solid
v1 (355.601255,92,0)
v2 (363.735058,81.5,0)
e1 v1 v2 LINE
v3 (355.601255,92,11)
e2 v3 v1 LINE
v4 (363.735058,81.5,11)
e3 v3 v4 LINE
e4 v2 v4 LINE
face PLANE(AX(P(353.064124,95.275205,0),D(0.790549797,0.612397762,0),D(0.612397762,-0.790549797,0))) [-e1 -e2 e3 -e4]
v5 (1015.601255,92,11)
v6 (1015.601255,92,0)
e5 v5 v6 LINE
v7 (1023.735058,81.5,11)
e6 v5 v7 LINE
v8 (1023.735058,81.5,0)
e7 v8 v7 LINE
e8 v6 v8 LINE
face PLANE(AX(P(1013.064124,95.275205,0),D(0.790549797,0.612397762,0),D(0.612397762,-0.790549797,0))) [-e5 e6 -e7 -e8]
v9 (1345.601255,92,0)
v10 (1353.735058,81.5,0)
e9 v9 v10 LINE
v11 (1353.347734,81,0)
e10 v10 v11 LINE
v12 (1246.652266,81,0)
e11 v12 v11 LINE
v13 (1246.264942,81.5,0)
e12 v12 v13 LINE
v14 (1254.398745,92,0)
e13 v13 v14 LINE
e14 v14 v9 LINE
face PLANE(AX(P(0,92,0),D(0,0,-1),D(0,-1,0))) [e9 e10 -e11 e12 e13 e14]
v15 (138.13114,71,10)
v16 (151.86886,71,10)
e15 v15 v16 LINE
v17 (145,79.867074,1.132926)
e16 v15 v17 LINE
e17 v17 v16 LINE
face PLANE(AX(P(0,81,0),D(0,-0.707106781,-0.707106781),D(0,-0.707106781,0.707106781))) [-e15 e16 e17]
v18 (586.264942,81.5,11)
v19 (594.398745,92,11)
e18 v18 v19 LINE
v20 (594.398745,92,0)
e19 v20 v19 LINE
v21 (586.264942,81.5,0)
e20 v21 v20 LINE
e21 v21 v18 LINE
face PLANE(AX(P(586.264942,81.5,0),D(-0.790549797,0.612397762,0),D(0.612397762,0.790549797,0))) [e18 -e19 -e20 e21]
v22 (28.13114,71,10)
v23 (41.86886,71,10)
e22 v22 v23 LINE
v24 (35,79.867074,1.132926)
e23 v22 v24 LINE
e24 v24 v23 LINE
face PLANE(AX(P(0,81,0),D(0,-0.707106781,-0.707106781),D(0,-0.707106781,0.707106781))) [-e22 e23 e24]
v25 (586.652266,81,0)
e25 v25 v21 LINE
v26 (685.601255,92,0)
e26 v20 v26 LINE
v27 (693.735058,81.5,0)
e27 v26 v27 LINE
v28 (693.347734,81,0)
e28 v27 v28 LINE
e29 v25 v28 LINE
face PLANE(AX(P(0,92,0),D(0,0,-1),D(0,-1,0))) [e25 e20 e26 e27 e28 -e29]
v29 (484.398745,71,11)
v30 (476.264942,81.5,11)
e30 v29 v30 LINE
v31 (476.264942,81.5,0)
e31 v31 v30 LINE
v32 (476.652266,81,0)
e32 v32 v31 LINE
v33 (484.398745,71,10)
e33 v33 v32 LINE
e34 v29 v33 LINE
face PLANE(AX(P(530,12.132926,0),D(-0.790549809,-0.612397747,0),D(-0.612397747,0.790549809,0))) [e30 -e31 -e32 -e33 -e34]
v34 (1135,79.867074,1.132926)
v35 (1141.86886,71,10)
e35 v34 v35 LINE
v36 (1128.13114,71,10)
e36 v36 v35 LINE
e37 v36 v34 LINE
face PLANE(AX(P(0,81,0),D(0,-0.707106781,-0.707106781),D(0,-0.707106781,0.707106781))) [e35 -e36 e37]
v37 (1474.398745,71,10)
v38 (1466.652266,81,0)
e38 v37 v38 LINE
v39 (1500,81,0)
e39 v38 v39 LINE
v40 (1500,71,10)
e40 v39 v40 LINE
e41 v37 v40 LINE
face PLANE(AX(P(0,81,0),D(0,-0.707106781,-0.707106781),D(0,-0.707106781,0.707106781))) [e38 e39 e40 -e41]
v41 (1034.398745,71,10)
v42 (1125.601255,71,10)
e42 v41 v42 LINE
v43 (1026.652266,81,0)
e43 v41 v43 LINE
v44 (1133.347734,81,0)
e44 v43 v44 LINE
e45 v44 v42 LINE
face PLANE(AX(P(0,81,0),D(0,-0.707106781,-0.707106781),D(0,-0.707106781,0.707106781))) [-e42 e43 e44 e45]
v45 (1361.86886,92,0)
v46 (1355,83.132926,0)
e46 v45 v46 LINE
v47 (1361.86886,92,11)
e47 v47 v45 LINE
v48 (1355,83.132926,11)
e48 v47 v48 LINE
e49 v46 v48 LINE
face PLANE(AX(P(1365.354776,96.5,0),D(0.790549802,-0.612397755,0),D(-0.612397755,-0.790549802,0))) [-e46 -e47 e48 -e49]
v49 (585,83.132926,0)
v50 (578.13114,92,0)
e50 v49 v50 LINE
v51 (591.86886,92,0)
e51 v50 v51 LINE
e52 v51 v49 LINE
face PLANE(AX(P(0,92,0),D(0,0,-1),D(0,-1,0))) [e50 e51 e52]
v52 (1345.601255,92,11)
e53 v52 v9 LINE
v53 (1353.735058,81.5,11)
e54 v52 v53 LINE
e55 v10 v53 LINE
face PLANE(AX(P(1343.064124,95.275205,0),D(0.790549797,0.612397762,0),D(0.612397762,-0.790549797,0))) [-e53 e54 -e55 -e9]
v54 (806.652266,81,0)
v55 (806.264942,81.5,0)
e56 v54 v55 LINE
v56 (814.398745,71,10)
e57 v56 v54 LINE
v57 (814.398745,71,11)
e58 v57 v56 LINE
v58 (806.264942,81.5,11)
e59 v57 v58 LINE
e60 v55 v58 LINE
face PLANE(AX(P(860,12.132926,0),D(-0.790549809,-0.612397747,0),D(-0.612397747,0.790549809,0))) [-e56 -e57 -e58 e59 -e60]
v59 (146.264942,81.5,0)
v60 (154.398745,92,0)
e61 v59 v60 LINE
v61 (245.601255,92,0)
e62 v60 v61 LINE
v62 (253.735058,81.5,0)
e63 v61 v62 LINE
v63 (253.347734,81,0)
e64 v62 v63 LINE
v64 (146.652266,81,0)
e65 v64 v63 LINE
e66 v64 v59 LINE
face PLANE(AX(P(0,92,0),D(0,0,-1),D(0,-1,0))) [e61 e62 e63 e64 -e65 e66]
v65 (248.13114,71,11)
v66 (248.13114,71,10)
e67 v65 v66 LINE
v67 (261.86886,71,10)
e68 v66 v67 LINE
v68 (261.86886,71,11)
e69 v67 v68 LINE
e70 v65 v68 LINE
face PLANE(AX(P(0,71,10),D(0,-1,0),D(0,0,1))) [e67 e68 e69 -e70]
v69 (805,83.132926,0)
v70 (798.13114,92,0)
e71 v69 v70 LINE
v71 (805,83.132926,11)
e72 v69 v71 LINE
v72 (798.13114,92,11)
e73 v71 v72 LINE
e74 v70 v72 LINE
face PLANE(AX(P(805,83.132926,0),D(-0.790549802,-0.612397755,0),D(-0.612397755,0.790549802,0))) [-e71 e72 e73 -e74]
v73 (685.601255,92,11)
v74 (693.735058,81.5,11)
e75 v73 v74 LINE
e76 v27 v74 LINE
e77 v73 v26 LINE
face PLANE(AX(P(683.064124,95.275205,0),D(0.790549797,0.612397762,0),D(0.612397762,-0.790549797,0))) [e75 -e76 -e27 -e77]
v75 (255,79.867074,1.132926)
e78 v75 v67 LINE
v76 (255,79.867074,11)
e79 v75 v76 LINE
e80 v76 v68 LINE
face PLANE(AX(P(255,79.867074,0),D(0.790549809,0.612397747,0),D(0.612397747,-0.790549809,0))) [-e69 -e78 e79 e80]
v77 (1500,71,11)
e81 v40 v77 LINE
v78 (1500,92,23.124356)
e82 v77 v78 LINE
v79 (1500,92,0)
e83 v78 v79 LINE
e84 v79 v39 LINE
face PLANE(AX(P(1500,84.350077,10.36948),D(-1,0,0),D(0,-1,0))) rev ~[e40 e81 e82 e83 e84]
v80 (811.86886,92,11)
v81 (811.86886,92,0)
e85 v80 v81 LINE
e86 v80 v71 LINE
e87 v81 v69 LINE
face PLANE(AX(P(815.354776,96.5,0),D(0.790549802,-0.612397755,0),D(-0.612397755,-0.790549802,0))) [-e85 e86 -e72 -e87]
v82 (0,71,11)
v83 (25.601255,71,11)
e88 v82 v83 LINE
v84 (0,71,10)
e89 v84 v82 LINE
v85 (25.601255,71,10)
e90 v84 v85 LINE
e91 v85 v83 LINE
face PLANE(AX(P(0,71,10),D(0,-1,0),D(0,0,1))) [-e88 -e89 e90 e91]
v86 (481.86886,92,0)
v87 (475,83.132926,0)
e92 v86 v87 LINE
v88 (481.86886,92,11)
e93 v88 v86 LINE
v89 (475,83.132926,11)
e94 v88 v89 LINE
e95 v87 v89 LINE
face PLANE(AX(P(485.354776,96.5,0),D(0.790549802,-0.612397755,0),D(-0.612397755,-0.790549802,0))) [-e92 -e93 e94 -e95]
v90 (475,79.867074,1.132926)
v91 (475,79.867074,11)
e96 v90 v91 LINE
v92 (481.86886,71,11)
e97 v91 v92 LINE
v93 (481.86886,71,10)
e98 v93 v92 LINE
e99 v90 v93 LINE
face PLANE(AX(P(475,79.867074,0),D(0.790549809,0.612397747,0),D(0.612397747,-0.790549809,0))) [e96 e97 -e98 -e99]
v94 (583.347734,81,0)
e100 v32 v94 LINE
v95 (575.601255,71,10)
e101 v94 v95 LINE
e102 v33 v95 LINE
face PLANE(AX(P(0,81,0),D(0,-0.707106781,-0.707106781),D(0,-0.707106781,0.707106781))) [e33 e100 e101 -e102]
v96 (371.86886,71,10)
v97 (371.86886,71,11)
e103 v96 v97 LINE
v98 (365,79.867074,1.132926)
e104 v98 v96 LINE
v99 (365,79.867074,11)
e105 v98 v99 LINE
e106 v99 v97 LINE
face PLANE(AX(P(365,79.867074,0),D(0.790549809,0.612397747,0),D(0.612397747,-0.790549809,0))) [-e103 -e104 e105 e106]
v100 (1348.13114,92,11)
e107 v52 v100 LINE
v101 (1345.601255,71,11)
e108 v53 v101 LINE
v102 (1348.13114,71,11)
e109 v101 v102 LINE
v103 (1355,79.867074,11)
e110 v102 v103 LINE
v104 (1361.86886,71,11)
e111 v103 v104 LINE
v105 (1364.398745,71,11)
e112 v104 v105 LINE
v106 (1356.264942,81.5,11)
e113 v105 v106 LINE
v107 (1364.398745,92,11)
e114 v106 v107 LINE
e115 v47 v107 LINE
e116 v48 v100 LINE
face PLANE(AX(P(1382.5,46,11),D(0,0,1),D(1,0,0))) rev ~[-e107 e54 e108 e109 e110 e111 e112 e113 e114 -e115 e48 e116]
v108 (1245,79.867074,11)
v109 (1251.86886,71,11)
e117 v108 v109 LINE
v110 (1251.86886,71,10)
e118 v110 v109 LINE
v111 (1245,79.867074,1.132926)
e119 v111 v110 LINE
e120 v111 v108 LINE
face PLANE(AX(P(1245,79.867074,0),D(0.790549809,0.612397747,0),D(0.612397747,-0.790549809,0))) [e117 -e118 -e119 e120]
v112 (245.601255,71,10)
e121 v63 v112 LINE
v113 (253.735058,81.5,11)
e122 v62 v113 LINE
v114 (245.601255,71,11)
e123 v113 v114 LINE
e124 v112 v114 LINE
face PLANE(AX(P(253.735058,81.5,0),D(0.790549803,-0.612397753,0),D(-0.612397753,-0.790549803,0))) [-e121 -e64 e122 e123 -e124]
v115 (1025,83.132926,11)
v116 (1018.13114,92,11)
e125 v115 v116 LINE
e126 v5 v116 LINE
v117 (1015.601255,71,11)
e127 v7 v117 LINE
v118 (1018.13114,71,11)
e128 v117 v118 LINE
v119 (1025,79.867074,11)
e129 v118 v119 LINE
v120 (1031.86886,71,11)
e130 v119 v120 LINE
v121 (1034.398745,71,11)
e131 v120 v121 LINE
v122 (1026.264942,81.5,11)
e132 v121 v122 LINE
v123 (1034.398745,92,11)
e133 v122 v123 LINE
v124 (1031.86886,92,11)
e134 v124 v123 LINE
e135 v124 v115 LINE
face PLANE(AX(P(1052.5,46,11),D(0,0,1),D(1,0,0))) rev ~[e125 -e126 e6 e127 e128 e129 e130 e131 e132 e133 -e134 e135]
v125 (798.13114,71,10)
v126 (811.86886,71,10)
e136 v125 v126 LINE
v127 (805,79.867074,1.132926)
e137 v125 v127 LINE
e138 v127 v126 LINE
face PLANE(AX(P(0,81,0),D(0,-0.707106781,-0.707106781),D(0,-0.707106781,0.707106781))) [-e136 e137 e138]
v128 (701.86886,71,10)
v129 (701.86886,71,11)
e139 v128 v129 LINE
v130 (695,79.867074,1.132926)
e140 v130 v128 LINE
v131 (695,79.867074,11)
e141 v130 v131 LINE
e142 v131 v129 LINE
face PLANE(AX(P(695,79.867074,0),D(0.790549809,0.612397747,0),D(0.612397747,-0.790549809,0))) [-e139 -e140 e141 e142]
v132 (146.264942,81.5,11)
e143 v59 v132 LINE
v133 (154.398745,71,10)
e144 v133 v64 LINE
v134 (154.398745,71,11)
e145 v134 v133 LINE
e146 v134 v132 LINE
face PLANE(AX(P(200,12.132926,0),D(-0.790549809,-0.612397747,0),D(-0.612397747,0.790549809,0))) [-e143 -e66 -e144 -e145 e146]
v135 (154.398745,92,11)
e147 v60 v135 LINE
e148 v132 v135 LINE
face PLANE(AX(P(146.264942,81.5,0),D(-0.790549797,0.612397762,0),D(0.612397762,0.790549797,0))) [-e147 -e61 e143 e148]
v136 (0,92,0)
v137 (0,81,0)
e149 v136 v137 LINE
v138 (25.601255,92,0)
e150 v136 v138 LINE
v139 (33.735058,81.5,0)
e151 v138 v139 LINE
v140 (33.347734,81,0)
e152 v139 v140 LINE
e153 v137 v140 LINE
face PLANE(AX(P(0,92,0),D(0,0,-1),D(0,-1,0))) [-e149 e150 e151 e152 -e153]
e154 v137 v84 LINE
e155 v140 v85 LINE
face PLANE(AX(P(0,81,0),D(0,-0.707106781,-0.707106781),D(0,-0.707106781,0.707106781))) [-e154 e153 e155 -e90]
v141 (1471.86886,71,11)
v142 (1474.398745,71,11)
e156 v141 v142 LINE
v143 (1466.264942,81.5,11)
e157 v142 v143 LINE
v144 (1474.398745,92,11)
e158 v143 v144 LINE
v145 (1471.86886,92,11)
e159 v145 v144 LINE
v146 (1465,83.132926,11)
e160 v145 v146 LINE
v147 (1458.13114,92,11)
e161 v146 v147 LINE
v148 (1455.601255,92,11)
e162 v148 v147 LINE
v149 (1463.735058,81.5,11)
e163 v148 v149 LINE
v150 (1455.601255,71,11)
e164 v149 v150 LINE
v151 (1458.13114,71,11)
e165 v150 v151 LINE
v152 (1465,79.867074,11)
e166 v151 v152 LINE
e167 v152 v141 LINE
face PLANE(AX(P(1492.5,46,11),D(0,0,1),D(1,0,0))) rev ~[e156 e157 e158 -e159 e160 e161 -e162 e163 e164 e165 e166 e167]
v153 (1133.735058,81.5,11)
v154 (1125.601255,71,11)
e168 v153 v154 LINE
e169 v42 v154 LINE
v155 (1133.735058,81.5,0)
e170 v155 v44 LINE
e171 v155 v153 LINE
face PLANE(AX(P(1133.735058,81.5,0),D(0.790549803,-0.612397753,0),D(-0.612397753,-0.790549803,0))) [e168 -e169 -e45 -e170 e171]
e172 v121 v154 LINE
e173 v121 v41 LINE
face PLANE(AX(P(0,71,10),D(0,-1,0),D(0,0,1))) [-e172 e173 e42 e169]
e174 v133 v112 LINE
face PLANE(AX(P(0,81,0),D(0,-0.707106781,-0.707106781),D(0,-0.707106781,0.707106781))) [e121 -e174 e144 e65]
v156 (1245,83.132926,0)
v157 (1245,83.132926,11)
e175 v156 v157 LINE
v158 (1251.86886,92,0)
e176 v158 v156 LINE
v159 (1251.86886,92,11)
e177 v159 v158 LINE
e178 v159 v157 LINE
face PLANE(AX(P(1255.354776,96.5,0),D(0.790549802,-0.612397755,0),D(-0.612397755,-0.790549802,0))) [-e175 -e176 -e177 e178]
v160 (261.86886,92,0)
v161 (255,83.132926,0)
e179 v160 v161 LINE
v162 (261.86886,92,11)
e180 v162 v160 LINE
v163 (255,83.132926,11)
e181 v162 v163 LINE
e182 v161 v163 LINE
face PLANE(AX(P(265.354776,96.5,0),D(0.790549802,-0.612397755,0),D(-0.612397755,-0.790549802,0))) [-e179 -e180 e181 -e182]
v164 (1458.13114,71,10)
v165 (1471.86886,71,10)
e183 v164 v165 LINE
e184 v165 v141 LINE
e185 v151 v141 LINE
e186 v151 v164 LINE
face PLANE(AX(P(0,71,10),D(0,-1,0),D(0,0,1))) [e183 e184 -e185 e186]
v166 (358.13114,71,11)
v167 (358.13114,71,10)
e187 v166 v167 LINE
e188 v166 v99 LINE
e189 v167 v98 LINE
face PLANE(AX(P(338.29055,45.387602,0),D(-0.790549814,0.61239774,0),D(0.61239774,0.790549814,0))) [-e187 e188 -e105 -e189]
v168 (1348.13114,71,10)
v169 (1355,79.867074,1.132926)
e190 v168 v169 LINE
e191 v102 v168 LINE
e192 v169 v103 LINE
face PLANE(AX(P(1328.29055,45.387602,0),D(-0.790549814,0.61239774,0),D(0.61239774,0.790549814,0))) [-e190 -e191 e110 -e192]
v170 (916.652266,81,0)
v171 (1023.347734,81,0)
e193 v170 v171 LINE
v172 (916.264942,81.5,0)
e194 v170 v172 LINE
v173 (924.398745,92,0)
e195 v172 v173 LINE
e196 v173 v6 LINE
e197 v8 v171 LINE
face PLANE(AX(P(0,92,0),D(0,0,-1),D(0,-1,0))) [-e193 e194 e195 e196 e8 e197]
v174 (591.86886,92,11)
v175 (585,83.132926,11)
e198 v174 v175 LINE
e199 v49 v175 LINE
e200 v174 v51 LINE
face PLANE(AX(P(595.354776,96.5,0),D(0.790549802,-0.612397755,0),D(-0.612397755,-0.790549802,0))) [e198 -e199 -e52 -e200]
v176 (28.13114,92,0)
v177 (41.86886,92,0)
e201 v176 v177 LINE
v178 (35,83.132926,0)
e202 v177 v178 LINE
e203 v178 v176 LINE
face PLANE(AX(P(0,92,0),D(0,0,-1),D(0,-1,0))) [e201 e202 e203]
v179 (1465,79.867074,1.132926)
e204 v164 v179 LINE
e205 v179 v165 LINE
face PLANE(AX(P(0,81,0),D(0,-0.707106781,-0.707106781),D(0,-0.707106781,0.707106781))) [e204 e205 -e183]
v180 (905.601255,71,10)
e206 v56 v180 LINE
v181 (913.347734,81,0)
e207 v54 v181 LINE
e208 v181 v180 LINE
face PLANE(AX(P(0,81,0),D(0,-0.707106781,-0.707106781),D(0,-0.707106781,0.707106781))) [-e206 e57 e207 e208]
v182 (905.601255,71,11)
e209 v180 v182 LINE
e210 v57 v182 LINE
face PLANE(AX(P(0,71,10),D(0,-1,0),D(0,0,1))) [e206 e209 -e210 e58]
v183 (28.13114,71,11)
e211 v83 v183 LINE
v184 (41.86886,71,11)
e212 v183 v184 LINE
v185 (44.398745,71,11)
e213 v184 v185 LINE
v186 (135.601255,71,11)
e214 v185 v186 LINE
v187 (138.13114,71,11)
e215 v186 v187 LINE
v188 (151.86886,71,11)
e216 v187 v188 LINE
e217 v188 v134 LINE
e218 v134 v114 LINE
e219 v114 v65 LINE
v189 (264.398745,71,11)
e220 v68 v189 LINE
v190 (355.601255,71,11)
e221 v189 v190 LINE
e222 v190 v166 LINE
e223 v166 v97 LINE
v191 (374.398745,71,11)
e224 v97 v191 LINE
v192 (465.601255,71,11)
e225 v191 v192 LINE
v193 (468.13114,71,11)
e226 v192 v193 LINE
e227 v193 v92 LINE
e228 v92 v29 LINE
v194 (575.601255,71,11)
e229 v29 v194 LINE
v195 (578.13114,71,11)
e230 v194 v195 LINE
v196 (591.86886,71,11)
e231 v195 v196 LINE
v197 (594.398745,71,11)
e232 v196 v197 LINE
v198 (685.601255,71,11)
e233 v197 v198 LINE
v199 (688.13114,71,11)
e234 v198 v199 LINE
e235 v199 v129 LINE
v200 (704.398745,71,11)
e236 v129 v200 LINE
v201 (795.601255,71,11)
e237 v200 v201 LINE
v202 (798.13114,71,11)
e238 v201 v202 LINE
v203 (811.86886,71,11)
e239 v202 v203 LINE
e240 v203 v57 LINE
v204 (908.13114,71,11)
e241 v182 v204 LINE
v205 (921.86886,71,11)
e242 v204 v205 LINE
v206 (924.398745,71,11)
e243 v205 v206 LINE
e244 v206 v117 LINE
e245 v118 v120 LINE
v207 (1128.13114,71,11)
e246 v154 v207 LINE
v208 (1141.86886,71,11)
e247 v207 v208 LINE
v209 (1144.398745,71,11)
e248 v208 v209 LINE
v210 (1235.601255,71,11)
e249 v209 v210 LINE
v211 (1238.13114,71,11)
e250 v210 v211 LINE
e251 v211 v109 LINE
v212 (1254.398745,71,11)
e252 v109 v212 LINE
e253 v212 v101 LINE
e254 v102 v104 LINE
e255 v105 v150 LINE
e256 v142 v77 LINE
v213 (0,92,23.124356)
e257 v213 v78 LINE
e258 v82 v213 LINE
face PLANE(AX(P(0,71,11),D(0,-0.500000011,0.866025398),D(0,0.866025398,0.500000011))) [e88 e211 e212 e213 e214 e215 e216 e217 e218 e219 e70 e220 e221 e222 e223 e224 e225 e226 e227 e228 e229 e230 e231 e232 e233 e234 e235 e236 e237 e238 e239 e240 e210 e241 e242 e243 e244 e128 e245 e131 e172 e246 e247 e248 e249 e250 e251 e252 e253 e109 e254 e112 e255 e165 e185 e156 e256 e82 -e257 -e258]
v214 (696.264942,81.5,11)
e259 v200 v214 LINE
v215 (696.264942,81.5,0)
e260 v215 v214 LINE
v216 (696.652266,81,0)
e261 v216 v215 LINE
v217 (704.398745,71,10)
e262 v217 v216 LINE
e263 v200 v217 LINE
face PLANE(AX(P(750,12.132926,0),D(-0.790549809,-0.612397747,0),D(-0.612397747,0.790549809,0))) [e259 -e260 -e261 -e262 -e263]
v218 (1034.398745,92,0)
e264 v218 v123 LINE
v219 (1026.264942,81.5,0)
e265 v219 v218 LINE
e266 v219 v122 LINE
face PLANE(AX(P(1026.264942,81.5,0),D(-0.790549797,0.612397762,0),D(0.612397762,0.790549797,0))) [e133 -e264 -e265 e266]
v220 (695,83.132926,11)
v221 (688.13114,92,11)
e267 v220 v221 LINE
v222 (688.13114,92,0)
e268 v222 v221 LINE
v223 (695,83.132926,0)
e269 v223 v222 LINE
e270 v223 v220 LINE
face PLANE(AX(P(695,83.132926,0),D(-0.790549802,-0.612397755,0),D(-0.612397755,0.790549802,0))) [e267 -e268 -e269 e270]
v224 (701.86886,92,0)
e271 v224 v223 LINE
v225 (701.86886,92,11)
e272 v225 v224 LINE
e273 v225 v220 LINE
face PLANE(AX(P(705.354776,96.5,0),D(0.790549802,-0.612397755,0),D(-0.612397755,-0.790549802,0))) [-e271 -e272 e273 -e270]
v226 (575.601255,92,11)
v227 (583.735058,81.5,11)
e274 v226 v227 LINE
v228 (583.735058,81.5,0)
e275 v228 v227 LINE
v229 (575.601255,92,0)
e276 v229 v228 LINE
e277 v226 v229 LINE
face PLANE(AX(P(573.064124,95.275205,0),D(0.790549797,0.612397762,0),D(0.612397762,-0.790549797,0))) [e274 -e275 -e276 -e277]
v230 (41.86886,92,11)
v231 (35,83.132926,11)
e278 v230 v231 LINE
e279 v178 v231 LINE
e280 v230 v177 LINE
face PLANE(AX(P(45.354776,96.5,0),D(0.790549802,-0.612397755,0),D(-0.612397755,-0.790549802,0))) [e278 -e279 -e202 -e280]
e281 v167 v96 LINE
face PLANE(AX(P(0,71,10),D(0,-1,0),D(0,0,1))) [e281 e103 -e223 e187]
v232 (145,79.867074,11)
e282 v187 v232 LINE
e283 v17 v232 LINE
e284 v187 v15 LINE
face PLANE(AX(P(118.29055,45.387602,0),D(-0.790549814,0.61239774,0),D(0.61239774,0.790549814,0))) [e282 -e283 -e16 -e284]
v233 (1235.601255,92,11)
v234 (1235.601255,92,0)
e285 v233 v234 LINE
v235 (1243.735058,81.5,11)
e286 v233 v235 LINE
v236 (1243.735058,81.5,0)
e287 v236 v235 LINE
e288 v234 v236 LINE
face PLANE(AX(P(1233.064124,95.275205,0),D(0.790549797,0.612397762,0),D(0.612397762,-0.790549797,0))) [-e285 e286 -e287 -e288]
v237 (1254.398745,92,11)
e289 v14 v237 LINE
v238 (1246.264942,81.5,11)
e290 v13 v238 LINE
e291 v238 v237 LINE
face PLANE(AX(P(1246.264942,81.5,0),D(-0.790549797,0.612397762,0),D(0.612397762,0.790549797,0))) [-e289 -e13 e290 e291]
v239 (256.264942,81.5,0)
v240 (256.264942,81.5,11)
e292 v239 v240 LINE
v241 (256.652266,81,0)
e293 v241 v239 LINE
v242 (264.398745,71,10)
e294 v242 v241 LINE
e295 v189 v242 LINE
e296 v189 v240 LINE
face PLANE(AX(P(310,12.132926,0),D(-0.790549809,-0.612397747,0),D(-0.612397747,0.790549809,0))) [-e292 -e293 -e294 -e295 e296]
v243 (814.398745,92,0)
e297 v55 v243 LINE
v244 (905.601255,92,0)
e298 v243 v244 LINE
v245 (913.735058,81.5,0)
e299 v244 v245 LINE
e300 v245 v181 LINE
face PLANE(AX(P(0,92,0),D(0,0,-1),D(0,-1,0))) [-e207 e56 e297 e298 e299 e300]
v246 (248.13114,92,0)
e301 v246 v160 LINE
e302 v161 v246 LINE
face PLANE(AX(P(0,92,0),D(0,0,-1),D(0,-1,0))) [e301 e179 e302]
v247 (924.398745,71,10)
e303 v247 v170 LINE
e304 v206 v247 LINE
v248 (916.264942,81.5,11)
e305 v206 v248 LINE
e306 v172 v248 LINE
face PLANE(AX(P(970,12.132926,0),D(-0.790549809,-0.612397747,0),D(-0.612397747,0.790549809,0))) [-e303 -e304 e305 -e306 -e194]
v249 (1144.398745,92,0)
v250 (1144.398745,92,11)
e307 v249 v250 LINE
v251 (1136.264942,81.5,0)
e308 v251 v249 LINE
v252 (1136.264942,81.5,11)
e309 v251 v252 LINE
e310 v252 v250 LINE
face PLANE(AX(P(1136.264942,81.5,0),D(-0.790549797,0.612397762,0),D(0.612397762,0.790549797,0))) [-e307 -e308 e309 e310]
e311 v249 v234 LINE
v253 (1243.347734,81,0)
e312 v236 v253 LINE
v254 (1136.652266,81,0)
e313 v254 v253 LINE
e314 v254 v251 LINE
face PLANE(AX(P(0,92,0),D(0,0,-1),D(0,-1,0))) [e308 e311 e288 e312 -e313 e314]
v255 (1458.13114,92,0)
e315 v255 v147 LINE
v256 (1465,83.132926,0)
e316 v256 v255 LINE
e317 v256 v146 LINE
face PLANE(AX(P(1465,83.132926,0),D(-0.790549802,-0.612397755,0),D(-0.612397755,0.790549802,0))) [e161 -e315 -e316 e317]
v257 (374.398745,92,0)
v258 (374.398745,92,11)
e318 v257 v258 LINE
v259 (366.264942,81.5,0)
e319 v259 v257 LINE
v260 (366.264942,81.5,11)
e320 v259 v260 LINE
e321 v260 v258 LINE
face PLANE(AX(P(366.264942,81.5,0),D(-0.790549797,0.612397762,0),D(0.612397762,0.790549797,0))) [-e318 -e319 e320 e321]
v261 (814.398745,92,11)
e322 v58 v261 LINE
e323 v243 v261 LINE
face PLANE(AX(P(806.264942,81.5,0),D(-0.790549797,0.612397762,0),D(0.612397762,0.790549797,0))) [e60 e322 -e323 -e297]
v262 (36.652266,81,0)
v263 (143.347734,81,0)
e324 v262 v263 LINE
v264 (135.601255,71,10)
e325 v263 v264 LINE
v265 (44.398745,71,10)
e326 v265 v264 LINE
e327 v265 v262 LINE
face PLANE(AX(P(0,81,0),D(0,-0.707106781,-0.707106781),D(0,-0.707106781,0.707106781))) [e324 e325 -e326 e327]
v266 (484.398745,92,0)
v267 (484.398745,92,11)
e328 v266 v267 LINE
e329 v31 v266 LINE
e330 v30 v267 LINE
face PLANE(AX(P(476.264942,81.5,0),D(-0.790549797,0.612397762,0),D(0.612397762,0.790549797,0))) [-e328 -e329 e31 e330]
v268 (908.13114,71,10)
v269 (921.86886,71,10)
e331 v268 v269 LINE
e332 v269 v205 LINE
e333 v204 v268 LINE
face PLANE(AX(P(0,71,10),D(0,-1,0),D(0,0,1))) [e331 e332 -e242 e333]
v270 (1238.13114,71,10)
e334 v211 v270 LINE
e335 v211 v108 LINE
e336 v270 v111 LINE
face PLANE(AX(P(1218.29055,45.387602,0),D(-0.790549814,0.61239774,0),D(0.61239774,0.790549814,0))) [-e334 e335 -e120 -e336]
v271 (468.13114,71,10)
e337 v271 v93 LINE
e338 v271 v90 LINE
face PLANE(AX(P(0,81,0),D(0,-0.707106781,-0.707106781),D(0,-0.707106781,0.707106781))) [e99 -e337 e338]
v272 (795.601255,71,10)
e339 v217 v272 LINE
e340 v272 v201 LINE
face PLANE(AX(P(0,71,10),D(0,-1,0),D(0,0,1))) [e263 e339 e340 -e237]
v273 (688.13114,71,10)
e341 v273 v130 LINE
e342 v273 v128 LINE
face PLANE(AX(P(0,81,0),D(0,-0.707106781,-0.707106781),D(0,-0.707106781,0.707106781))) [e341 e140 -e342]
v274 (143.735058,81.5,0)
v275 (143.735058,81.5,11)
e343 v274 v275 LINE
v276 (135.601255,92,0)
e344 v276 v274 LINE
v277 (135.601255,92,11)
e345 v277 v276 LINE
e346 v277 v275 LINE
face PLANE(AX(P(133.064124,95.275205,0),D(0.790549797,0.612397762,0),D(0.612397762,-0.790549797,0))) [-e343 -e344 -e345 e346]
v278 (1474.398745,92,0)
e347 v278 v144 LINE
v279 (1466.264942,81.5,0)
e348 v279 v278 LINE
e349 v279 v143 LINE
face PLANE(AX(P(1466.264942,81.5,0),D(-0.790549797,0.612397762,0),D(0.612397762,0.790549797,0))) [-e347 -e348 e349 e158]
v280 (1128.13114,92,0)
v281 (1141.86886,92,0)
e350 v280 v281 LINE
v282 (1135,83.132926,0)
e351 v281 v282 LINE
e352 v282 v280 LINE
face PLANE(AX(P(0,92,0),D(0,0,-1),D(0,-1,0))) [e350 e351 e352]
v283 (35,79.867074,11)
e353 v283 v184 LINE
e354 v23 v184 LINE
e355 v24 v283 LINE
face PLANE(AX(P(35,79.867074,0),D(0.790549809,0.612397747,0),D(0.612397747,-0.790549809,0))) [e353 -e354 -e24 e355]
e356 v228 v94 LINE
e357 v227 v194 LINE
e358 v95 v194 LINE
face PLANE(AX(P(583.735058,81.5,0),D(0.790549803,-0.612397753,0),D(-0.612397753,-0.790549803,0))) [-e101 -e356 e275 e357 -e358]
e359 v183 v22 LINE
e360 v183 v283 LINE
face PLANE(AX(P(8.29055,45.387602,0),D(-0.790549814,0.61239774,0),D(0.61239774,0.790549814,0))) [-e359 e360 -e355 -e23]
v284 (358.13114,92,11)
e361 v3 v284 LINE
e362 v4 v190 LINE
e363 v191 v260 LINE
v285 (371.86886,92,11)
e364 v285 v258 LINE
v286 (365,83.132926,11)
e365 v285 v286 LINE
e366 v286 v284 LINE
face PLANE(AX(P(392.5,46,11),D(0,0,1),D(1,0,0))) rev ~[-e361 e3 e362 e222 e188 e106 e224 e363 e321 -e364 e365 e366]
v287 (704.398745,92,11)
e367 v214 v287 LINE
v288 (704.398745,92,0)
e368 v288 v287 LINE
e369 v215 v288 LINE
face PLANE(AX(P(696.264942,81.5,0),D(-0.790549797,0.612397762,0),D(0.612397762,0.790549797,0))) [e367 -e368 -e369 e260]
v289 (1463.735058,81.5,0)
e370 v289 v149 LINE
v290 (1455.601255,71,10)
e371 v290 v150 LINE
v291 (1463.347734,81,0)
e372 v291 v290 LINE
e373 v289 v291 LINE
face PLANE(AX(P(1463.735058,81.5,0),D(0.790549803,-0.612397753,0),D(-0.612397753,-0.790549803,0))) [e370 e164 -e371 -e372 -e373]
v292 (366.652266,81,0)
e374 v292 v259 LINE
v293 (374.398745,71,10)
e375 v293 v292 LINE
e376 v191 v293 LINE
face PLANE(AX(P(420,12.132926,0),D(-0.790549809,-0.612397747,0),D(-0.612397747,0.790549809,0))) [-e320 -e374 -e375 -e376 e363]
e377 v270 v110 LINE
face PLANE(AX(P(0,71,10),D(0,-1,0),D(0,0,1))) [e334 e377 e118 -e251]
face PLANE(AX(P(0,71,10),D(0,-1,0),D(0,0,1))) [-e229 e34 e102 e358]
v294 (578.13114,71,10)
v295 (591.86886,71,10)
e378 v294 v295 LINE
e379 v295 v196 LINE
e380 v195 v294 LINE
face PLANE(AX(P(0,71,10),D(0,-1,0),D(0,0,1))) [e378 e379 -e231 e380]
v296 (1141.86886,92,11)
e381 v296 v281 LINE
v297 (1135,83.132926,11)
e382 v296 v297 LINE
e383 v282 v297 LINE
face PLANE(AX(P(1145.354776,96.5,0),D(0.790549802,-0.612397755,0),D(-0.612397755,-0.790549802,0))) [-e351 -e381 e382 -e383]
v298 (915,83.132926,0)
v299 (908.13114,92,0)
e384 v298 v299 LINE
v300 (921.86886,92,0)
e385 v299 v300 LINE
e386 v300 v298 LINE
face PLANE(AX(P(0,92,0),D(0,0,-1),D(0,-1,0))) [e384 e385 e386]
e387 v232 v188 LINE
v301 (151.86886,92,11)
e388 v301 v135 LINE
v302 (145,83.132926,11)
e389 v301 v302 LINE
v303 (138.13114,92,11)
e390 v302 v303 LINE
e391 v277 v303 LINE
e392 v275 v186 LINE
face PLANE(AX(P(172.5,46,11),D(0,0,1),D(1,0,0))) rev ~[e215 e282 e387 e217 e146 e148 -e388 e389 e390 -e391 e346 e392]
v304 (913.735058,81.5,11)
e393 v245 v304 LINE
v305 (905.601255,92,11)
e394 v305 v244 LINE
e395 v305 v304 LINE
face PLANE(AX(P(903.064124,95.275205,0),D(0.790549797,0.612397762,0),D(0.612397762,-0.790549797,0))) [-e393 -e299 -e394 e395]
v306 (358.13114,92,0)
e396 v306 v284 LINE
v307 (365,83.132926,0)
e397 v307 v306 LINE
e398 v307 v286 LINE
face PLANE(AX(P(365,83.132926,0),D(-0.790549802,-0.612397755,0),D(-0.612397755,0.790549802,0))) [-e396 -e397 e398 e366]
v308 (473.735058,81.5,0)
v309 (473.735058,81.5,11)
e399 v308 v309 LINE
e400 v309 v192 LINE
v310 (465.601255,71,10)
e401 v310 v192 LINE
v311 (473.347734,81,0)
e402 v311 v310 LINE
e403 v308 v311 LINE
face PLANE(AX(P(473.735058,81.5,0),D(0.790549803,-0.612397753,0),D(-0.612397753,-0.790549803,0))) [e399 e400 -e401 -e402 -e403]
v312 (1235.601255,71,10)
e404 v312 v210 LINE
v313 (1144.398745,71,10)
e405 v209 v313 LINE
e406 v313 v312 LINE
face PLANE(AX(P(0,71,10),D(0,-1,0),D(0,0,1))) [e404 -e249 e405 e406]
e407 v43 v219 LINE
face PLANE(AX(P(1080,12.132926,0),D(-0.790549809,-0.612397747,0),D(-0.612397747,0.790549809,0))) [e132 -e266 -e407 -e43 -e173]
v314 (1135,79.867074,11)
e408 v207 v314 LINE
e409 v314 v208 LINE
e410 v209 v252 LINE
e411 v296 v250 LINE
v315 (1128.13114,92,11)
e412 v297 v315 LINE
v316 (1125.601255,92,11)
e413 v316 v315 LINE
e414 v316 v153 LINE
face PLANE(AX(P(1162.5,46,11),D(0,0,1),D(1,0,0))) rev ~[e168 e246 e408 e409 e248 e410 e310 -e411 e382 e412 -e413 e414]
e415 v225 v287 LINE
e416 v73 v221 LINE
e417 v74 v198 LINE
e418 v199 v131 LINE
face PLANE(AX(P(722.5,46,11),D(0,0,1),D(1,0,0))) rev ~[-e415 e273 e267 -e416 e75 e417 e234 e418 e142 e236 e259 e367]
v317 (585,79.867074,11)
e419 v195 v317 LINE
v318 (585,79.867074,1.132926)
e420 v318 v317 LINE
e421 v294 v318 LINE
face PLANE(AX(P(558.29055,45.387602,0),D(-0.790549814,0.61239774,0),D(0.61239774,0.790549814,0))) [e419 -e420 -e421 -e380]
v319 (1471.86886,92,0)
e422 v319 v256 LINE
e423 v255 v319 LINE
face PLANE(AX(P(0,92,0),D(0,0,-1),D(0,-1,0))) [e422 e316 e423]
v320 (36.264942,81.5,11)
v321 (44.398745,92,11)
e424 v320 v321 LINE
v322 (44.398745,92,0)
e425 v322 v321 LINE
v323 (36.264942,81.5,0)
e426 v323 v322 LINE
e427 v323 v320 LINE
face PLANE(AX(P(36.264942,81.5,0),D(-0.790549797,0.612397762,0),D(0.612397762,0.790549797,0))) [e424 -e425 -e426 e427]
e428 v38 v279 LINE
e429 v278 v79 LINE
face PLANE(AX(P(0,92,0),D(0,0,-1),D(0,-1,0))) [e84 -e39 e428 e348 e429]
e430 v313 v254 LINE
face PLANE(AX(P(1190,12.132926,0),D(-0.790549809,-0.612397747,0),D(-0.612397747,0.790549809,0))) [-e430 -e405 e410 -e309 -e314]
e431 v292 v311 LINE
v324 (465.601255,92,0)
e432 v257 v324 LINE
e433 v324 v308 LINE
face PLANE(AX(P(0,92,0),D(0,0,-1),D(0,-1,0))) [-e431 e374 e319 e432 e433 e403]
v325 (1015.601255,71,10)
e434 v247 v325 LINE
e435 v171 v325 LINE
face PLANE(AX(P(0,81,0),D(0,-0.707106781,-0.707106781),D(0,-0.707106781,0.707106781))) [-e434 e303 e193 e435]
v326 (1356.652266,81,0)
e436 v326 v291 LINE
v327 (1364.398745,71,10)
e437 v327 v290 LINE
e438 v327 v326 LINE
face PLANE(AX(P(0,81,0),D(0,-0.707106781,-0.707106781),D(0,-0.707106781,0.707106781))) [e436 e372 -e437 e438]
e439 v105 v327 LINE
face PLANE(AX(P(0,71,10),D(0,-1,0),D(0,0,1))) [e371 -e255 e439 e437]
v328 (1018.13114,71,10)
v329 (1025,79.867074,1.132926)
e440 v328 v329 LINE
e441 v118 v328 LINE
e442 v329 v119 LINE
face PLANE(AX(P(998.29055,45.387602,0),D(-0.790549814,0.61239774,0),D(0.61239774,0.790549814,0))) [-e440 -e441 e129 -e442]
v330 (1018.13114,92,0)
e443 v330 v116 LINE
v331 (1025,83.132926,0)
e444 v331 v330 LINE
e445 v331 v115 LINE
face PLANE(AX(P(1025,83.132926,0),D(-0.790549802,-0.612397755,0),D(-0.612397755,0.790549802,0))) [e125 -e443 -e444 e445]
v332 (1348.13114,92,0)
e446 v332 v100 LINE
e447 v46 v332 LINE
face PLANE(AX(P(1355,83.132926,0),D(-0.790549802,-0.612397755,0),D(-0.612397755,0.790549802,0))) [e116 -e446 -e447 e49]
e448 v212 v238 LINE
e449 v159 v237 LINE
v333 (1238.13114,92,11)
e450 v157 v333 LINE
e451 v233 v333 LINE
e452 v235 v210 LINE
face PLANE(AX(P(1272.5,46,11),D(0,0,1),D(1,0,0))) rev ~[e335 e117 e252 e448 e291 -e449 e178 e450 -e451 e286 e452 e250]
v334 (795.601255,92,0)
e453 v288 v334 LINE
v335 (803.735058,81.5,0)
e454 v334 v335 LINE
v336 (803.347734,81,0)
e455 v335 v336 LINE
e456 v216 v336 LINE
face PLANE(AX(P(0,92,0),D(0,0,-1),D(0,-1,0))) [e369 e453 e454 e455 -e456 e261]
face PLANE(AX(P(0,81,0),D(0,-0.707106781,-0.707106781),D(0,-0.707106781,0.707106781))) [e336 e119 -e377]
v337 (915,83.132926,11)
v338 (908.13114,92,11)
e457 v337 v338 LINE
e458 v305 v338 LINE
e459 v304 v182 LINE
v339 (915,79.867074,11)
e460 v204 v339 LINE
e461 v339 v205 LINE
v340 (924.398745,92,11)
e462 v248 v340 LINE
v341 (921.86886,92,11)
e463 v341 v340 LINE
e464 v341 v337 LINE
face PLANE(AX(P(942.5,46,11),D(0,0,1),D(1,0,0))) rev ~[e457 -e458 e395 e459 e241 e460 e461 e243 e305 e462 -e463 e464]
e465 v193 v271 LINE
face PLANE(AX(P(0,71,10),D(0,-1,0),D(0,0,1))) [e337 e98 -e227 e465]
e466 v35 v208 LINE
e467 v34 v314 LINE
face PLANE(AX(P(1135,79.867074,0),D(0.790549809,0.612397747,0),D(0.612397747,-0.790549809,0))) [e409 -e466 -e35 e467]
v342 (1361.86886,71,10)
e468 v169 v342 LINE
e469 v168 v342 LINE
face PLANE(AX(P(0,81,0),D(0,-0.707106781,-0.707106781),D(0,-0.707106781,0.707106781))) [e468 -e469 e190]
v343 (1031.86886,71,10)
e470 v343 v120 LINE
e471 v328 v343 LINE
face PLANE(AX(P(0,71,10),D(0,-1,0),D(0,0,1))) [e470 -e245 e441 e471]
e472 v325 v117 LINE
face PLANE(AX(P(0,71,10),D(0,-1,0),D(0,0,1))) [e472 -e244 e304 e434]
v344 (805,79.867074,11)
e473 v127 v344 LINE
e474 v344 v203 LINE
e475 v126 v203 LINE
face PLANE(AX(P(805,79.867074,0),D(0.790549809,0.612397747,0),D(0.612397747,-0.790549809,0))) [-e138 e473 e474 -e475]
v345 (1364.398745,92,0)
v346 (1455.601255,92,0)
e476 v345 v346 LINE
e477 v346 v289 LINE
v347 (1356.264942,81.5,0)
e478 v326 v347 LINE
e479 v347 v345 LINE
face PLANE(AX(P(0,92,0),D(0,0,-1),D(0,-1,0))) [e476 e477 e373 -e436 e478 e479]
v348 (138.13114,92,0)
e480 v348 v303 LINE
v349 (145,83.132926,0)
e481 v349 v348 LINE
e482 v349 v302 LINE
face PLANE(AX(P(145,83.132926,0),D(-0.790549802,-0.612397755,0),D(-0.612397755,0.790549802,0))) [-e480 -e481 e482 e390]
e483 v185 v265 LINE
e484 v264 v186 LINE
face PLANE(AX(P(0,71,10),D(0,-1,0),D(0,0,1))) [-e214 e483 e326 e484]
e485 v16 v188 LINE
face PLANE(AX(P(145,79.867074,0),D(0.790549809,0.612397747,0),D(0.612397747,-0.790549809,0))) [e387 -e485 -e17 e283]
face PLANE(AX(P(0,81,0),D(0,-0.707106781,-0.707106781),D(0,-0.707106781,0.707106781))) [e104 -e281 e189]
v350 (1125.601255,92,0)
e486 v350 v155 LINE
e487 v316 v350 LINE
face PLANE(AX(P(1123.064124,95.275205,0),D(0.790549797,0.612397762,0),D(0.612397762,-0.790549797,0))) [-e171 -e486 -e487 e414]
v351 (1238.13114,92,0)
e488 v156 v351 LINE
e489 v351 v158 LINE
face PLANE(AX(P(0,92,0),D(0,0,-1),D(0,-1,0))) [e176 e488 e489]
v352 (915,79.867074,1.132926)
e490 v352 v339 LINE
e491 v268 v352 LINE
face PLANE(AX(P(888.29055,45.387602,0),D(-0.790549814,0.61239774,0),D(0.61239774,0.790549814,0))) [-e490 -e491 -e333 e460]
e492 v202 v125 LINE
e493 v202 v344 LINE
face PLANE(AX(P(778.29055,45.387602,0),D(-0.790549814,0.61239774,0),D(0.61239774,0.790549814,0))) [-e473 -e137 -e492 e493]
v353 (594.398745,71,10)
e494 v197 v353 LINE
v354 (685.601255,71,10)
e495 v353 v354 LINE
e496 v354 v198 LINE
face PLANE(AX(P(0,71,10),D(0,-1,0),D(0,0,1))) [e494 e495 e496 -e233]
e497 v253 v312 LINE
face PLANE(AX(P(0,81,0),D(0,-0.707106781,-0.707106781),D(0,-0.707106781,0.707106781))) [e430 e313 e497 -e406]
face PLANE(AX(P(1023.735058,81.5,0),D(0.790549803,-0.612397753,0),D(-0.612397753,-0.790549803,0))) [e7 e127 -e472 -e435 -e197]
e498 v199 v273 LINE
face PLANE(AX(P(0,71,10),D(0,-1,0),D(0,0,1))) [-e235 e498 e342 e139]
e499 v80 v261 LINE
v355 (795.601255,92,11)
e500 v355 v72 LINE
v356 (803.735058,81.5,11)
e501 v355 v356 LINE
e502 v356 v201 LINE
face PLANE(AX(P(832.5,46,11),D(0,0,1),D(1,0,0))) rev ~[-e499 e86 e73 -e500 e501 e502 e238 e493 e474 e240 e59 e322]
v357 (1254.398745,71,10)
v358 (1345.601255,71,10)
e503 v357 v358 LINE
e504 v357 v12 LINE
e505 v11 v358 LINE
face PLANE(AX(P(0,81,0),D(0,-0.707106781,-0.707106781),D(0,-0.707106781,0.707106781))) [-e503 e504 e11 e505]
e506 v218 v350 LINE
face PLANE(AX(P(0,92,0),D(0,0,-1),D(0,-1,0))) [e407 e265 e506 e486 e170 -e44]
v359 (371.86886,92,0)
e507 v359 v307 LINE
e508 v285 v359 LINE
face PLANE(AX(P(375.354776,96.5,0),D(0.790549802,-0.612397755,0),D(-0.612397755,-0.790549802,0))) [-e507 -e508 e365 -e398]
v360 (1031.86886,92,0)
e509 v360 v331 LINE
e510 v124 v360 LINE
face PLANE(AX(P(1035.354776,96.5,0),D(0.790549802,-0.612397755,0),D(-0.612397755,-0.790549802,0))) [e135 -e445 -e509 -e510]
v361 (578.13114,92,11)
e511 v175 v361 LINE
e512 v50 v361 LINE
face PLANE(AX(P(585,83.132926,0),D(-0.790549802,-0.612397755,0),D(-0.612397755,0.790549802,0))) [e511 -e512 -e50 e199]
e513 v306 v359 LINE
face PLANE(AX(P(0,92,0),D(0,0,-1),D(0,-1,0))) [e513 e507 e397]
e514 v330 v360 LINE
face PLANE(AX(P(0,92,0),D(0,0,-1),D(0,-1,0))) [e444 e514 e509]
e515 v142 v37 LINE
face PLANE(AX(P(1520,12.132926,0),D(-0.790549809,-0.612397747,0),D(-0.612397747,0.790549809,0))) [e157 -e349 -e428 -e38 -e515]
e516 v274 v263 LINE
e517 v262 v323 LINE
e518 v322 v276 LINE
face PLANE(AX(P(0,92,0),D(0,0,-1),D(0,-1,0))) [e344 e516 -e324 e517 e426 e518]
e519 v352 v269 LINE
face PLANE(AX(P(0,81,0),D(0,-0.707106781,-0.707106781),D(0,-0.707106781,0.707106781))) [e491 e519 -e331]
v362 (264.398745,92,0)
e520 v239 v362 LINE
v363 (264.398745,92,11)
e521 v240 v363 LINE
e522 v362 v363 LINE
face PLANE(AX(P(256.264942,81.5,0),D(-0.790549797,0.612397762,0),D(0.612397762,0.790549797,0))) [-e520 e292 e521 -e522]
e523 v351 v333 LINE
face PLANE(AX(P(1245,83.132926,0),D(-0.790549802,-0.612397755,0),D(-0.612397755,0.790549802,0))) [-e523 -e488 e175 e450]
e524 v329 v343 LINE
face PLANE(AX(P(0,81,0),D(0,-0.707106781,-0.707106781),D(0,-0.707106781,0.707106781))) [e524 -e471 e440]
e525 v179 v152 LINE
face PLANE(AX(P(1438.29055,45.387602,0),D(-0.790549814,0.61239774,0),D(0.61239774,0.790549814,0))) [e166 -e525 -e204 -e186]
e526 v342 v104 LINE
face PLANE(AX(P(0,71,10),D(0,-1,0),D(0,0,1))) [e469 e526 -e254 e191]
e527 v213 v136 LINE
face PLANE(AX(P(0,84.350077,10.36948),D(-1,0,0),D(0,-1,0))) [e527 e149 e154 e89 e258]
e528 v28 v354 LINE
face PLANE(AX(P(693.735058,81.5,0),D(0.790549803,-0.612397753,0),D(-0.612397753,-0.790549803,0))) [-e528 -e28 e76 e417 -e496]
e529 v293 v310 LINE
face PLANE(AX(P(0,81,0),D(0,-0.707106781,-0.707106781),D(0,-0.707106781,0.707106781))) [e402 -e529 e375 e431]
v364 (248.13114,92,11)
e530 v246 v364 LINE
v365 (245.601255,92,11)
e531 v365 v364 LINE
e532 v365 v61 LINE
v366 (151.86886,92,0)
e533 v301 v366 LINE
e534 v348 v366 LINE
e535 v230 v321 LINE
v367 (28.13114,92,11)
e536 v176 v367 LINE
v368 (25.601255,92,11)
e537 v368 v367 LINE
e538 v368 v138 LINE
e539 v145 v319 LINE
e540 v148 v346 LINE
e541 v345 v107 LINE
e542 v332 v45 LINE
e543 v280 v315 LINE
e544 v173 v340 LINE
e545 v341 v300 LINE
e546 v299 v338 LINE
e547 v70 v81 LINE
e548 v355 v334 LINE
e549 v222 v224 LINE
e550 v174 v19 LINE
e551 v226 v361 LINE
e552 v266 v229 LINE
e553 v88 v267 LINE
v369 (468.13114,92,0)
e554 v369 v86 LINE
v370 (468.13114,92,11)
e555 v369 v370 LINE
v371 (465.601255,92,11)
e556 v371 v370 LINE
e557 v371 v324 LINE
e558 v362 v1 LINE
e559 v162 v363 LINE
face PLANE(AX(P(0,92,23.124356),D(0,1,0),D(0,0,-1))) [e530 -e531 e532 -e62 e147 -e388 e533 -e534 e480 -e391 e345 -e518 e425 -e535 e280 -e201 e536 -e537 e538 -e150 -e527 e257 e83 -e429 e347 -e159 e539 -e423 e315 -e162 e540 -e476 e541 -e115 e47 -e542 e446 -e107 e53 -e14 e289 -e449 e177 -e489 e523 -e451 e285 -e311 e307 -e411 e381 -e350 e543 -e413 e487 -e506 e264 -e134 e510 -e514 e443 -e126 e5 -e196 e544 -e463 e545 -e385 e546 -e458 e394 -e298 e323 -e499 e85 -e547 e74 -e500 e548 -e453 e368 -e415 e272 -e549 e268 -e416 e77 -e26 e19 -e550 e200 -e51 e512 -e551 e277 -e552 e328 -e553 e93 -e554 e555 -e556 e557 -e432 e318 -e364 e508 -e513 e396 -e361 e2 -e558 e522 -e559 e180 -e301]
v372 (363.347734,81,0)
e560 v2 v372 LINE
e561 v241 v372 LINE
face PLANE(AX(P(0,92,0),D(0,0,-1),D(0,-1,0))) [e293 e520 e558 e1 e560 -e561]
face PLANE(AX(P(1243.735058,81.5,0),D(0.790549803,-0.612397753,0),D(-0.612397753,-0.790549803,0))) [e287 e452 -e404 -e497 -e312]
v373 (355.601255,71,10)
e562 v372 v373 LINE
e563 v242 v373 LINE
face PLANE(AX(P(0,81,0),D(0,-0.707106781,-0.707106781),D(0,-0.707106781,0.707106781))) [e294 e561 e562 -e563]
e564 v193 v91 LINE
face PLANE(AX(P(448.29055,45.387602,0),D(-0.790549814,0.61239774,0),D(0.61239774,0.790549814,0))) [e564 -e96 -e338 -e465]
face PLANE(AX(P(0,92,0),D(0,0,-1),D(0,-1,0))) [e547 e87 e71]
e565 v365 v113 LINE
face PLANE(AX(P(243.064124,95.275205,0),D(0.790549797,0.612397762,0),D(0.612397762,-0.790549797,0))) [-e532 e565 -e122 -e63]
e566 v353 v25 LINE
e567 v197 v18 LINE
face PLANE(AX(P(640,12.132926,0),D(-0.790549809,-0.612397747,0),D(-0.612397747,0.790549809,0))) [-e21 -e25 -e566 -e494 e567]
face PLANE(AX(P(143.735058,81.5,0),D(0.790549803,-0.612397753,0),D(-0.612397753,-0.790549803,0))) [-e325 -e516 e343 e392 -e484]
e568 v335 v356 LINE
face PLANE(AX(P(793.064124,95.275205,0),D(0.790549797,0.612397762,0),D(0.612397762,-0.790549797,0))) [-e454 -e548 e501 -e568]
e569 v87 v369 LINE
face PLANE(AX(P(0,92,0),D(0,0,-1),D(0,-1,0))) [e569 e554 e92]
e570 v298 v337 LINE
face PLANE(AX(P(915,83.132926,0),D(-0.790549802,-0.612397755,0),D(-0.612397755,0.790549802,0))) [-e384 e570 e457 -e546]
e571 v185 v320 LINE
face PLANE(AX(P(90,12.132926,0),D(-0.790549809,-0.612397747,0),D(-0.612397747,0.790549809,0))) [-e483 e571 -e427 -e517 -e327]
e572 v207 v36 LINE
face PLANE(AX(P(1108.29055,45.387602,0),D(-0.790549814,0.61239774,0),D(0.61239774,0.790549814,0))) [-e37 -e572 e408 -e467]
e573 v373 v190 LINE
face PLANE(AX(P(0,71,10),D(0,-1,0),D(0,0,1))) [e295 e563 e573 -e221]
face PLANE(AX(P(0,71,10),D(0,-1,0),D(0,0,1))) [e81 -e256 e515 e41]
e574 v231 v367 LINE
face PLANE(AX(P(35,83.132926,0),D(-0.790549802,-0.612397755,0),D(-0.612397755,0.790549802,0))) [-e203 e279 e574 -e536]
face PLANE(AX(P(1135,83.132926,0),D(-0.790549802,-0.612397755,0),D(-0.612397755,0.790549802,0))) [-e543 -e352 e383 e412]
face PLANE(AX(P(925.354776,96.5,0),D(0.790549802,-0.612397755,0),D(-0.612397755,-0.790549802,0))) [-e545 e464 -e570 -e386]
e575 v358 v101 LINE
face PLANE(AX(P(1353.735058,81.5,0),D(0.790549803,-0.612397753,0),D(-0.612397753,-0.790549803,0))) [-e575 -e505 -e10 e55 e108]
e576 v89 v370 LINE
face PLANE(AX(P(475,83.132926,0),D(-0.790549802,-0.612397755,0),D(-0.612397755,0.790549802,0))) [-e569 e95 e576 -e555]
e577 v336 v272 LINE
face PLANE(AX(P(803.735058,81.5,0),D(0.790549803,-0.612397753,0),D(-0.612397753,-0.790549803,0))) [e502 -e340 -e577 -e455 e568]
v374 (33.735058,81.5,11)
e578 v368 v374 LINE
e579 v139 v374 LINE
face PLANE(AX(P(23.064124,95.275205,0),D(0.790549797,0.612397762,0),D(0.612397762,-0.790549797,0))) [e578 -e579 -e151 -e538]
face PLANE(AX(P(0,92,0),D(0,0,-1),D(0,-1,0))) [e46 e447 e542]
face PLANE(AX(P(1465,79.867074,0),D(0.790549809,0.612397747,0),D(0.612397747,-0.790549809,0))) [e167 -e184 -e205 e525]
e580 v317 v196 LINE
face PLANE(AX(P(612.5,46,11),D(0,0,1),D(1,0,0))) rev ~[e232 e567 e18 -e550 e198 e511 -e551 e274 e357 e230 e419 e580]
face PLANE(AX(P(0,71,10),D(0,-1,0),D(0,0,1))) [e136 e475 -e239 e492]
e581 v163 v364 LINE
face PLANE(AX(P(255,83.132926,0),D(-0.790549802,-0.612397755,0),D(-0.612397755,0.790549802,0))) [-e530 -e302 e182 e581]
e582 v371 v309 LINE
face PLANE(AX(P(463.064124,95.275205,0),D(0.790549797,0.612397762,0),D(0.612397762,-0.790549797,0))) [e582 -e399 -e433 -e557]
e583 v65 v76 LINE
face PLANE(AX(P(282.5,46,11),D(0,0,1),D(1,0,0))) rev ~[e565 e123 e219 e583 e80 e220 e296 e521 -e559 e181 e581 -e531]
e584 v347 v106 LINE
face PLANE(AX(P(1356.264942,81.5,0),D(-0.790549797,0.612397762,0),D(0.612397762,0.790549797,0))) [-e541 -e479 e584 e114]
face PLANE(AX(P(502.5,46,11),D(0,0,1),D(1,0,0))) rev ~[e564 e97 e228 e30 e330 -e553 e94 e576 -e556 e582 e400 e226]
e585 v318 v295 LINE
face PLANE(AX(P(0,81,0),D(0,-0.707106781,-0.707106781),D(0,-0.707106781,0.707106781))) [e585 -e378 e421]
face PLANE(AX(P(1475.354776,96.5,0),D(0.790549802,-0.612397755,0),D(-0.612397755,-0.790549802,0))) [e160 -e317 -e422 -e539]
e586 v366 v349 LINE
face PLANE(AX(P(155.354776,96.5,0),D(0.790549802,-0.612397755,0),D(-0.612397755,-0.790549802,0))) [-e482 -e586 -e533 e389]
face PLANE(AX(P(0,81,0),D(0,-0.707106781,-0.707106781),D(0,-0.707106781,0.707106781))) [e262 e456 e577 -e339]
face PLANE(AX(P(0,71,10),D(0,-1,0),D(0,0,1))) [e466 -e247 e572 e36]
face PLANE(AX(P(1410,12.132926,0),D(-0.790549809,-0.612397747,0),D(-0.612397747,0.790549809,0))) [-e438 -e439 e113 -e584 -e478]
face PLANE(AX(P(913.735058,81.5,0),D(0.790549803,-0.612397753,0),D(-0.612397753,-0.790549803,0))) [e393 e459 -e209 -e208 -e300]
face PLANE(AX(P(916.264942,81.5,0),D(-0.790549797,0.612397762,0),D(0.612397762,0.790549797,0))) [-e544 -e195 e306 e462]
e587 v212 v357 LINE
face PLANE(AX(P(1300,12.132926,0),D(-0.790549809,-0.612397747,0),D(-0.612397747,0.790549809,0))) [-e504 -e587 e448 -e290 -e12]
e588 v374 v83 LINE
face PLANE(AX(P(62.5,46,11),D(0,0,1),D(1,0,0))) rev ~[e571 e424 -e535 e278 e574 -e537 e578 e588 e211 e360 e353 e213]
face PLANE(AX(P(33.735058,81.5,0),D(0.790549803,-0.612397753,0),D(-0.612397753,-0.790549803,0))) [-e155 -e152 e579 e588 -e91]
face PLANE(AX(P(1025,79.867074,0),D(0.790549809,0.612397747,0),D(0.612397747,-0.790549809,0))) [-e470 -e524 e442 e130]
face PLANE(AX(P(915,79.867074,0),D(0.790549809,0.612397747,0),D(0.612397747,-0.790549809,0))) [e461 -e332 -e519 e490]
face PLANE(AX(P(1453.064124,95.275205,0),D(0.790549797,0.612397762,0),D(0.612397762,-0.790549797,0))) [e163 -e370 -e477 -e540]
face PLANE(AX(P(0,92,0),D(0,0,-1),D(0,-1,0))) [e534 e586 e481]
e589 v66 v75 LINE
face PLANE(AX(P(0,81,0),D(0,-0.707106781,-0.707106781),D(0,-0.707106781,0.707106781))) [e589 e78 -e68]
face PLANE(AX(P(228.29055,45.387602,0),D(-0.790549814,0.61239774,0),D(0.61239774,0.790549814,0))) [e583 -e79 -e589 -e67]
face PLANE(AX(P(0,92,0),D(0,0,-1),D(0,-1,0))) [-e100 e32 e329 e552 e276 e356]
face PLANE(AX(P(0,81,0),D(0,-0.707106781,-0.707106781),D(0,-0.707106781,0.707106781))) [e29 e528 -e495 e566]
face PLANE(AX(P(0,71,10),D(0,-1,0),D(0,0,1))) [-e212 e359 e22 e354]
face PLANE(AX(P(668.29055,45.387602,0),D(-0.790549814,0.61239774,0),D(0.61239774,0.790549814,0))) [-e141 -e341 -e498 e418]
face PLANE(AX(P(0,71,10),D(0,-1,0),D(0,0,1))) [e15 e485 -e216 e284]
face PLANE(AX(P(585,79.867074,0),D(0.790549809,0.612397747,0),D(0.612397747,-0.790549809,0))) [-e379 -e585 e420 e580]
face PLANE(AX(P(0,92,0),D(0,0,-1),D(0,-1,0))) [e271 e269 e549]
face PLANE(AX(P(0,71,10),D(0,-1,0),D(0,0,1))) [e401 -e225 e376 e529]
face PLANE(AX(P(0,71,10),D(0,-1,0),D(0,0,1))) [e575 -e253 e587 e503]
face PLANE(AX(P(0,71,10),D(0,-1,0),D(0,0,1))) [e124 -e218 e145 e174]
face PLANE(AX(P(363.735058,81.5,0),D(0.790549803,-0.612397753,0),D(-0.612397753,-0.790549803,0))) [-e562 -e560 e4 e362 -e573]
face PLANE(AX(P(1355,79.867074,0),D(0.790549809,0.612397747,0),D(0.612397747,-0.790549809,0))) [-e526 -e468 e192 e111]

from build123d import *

# Parameters (mm, degrees)
PAD007_DEPTH           = 1500
POCKET004_DEPTH        = 11
LINEARPATTERN001_COUNT = 14
LINEARPATTERN001_PITCH = 110


with BuildPart() as part:
    # Sketch011 → Pad007 (new body)
    with BuildSketch(Plane.YZ):
        Polygon((92, 0), (81, 0), (71, 10), (71, 11), (92, 23.124356), align=None)
    extrude(amount=PAD007_DEPTH)

    # Sketch012 → Pocket004 (cut)
    with BuildSketch(Plane.XY):
        Polygon((6.70945, 46.612398), (8.29055, 45.387602), (35, 79.867074), (88.735058, 10.5), (78.064124, -3.275205), (79.645224, -4.5), (90, 8.867074), (100.354776, -4.5), (101.935876, -3.275205), (91.264942, 10.5), (118.29055, 45.387602), (116.70945, 46.612398), (90, 12.132926), (36.264942, 81.5), (46.935876, 95.275205), (45.354776, 96.5), (35, 83.132926), (24.645224, 96.5), (23.064124, 95.275205), (33.735058, 81.5), align=None)
    pocket004 = extrude(amount=POCKET004_DEPTH, mode=Mode.SUBTRACT)

    # LinearPattern001: Pocket004 ×14
    with Locations(*[(i * LINEARPATTERN001_PITCH, 0, 0) for i in range(1, LINEARPATTERN001_COUNT)]):
        add(pocket004, mode=Mode.SUBTRACT)


solid = part.part
